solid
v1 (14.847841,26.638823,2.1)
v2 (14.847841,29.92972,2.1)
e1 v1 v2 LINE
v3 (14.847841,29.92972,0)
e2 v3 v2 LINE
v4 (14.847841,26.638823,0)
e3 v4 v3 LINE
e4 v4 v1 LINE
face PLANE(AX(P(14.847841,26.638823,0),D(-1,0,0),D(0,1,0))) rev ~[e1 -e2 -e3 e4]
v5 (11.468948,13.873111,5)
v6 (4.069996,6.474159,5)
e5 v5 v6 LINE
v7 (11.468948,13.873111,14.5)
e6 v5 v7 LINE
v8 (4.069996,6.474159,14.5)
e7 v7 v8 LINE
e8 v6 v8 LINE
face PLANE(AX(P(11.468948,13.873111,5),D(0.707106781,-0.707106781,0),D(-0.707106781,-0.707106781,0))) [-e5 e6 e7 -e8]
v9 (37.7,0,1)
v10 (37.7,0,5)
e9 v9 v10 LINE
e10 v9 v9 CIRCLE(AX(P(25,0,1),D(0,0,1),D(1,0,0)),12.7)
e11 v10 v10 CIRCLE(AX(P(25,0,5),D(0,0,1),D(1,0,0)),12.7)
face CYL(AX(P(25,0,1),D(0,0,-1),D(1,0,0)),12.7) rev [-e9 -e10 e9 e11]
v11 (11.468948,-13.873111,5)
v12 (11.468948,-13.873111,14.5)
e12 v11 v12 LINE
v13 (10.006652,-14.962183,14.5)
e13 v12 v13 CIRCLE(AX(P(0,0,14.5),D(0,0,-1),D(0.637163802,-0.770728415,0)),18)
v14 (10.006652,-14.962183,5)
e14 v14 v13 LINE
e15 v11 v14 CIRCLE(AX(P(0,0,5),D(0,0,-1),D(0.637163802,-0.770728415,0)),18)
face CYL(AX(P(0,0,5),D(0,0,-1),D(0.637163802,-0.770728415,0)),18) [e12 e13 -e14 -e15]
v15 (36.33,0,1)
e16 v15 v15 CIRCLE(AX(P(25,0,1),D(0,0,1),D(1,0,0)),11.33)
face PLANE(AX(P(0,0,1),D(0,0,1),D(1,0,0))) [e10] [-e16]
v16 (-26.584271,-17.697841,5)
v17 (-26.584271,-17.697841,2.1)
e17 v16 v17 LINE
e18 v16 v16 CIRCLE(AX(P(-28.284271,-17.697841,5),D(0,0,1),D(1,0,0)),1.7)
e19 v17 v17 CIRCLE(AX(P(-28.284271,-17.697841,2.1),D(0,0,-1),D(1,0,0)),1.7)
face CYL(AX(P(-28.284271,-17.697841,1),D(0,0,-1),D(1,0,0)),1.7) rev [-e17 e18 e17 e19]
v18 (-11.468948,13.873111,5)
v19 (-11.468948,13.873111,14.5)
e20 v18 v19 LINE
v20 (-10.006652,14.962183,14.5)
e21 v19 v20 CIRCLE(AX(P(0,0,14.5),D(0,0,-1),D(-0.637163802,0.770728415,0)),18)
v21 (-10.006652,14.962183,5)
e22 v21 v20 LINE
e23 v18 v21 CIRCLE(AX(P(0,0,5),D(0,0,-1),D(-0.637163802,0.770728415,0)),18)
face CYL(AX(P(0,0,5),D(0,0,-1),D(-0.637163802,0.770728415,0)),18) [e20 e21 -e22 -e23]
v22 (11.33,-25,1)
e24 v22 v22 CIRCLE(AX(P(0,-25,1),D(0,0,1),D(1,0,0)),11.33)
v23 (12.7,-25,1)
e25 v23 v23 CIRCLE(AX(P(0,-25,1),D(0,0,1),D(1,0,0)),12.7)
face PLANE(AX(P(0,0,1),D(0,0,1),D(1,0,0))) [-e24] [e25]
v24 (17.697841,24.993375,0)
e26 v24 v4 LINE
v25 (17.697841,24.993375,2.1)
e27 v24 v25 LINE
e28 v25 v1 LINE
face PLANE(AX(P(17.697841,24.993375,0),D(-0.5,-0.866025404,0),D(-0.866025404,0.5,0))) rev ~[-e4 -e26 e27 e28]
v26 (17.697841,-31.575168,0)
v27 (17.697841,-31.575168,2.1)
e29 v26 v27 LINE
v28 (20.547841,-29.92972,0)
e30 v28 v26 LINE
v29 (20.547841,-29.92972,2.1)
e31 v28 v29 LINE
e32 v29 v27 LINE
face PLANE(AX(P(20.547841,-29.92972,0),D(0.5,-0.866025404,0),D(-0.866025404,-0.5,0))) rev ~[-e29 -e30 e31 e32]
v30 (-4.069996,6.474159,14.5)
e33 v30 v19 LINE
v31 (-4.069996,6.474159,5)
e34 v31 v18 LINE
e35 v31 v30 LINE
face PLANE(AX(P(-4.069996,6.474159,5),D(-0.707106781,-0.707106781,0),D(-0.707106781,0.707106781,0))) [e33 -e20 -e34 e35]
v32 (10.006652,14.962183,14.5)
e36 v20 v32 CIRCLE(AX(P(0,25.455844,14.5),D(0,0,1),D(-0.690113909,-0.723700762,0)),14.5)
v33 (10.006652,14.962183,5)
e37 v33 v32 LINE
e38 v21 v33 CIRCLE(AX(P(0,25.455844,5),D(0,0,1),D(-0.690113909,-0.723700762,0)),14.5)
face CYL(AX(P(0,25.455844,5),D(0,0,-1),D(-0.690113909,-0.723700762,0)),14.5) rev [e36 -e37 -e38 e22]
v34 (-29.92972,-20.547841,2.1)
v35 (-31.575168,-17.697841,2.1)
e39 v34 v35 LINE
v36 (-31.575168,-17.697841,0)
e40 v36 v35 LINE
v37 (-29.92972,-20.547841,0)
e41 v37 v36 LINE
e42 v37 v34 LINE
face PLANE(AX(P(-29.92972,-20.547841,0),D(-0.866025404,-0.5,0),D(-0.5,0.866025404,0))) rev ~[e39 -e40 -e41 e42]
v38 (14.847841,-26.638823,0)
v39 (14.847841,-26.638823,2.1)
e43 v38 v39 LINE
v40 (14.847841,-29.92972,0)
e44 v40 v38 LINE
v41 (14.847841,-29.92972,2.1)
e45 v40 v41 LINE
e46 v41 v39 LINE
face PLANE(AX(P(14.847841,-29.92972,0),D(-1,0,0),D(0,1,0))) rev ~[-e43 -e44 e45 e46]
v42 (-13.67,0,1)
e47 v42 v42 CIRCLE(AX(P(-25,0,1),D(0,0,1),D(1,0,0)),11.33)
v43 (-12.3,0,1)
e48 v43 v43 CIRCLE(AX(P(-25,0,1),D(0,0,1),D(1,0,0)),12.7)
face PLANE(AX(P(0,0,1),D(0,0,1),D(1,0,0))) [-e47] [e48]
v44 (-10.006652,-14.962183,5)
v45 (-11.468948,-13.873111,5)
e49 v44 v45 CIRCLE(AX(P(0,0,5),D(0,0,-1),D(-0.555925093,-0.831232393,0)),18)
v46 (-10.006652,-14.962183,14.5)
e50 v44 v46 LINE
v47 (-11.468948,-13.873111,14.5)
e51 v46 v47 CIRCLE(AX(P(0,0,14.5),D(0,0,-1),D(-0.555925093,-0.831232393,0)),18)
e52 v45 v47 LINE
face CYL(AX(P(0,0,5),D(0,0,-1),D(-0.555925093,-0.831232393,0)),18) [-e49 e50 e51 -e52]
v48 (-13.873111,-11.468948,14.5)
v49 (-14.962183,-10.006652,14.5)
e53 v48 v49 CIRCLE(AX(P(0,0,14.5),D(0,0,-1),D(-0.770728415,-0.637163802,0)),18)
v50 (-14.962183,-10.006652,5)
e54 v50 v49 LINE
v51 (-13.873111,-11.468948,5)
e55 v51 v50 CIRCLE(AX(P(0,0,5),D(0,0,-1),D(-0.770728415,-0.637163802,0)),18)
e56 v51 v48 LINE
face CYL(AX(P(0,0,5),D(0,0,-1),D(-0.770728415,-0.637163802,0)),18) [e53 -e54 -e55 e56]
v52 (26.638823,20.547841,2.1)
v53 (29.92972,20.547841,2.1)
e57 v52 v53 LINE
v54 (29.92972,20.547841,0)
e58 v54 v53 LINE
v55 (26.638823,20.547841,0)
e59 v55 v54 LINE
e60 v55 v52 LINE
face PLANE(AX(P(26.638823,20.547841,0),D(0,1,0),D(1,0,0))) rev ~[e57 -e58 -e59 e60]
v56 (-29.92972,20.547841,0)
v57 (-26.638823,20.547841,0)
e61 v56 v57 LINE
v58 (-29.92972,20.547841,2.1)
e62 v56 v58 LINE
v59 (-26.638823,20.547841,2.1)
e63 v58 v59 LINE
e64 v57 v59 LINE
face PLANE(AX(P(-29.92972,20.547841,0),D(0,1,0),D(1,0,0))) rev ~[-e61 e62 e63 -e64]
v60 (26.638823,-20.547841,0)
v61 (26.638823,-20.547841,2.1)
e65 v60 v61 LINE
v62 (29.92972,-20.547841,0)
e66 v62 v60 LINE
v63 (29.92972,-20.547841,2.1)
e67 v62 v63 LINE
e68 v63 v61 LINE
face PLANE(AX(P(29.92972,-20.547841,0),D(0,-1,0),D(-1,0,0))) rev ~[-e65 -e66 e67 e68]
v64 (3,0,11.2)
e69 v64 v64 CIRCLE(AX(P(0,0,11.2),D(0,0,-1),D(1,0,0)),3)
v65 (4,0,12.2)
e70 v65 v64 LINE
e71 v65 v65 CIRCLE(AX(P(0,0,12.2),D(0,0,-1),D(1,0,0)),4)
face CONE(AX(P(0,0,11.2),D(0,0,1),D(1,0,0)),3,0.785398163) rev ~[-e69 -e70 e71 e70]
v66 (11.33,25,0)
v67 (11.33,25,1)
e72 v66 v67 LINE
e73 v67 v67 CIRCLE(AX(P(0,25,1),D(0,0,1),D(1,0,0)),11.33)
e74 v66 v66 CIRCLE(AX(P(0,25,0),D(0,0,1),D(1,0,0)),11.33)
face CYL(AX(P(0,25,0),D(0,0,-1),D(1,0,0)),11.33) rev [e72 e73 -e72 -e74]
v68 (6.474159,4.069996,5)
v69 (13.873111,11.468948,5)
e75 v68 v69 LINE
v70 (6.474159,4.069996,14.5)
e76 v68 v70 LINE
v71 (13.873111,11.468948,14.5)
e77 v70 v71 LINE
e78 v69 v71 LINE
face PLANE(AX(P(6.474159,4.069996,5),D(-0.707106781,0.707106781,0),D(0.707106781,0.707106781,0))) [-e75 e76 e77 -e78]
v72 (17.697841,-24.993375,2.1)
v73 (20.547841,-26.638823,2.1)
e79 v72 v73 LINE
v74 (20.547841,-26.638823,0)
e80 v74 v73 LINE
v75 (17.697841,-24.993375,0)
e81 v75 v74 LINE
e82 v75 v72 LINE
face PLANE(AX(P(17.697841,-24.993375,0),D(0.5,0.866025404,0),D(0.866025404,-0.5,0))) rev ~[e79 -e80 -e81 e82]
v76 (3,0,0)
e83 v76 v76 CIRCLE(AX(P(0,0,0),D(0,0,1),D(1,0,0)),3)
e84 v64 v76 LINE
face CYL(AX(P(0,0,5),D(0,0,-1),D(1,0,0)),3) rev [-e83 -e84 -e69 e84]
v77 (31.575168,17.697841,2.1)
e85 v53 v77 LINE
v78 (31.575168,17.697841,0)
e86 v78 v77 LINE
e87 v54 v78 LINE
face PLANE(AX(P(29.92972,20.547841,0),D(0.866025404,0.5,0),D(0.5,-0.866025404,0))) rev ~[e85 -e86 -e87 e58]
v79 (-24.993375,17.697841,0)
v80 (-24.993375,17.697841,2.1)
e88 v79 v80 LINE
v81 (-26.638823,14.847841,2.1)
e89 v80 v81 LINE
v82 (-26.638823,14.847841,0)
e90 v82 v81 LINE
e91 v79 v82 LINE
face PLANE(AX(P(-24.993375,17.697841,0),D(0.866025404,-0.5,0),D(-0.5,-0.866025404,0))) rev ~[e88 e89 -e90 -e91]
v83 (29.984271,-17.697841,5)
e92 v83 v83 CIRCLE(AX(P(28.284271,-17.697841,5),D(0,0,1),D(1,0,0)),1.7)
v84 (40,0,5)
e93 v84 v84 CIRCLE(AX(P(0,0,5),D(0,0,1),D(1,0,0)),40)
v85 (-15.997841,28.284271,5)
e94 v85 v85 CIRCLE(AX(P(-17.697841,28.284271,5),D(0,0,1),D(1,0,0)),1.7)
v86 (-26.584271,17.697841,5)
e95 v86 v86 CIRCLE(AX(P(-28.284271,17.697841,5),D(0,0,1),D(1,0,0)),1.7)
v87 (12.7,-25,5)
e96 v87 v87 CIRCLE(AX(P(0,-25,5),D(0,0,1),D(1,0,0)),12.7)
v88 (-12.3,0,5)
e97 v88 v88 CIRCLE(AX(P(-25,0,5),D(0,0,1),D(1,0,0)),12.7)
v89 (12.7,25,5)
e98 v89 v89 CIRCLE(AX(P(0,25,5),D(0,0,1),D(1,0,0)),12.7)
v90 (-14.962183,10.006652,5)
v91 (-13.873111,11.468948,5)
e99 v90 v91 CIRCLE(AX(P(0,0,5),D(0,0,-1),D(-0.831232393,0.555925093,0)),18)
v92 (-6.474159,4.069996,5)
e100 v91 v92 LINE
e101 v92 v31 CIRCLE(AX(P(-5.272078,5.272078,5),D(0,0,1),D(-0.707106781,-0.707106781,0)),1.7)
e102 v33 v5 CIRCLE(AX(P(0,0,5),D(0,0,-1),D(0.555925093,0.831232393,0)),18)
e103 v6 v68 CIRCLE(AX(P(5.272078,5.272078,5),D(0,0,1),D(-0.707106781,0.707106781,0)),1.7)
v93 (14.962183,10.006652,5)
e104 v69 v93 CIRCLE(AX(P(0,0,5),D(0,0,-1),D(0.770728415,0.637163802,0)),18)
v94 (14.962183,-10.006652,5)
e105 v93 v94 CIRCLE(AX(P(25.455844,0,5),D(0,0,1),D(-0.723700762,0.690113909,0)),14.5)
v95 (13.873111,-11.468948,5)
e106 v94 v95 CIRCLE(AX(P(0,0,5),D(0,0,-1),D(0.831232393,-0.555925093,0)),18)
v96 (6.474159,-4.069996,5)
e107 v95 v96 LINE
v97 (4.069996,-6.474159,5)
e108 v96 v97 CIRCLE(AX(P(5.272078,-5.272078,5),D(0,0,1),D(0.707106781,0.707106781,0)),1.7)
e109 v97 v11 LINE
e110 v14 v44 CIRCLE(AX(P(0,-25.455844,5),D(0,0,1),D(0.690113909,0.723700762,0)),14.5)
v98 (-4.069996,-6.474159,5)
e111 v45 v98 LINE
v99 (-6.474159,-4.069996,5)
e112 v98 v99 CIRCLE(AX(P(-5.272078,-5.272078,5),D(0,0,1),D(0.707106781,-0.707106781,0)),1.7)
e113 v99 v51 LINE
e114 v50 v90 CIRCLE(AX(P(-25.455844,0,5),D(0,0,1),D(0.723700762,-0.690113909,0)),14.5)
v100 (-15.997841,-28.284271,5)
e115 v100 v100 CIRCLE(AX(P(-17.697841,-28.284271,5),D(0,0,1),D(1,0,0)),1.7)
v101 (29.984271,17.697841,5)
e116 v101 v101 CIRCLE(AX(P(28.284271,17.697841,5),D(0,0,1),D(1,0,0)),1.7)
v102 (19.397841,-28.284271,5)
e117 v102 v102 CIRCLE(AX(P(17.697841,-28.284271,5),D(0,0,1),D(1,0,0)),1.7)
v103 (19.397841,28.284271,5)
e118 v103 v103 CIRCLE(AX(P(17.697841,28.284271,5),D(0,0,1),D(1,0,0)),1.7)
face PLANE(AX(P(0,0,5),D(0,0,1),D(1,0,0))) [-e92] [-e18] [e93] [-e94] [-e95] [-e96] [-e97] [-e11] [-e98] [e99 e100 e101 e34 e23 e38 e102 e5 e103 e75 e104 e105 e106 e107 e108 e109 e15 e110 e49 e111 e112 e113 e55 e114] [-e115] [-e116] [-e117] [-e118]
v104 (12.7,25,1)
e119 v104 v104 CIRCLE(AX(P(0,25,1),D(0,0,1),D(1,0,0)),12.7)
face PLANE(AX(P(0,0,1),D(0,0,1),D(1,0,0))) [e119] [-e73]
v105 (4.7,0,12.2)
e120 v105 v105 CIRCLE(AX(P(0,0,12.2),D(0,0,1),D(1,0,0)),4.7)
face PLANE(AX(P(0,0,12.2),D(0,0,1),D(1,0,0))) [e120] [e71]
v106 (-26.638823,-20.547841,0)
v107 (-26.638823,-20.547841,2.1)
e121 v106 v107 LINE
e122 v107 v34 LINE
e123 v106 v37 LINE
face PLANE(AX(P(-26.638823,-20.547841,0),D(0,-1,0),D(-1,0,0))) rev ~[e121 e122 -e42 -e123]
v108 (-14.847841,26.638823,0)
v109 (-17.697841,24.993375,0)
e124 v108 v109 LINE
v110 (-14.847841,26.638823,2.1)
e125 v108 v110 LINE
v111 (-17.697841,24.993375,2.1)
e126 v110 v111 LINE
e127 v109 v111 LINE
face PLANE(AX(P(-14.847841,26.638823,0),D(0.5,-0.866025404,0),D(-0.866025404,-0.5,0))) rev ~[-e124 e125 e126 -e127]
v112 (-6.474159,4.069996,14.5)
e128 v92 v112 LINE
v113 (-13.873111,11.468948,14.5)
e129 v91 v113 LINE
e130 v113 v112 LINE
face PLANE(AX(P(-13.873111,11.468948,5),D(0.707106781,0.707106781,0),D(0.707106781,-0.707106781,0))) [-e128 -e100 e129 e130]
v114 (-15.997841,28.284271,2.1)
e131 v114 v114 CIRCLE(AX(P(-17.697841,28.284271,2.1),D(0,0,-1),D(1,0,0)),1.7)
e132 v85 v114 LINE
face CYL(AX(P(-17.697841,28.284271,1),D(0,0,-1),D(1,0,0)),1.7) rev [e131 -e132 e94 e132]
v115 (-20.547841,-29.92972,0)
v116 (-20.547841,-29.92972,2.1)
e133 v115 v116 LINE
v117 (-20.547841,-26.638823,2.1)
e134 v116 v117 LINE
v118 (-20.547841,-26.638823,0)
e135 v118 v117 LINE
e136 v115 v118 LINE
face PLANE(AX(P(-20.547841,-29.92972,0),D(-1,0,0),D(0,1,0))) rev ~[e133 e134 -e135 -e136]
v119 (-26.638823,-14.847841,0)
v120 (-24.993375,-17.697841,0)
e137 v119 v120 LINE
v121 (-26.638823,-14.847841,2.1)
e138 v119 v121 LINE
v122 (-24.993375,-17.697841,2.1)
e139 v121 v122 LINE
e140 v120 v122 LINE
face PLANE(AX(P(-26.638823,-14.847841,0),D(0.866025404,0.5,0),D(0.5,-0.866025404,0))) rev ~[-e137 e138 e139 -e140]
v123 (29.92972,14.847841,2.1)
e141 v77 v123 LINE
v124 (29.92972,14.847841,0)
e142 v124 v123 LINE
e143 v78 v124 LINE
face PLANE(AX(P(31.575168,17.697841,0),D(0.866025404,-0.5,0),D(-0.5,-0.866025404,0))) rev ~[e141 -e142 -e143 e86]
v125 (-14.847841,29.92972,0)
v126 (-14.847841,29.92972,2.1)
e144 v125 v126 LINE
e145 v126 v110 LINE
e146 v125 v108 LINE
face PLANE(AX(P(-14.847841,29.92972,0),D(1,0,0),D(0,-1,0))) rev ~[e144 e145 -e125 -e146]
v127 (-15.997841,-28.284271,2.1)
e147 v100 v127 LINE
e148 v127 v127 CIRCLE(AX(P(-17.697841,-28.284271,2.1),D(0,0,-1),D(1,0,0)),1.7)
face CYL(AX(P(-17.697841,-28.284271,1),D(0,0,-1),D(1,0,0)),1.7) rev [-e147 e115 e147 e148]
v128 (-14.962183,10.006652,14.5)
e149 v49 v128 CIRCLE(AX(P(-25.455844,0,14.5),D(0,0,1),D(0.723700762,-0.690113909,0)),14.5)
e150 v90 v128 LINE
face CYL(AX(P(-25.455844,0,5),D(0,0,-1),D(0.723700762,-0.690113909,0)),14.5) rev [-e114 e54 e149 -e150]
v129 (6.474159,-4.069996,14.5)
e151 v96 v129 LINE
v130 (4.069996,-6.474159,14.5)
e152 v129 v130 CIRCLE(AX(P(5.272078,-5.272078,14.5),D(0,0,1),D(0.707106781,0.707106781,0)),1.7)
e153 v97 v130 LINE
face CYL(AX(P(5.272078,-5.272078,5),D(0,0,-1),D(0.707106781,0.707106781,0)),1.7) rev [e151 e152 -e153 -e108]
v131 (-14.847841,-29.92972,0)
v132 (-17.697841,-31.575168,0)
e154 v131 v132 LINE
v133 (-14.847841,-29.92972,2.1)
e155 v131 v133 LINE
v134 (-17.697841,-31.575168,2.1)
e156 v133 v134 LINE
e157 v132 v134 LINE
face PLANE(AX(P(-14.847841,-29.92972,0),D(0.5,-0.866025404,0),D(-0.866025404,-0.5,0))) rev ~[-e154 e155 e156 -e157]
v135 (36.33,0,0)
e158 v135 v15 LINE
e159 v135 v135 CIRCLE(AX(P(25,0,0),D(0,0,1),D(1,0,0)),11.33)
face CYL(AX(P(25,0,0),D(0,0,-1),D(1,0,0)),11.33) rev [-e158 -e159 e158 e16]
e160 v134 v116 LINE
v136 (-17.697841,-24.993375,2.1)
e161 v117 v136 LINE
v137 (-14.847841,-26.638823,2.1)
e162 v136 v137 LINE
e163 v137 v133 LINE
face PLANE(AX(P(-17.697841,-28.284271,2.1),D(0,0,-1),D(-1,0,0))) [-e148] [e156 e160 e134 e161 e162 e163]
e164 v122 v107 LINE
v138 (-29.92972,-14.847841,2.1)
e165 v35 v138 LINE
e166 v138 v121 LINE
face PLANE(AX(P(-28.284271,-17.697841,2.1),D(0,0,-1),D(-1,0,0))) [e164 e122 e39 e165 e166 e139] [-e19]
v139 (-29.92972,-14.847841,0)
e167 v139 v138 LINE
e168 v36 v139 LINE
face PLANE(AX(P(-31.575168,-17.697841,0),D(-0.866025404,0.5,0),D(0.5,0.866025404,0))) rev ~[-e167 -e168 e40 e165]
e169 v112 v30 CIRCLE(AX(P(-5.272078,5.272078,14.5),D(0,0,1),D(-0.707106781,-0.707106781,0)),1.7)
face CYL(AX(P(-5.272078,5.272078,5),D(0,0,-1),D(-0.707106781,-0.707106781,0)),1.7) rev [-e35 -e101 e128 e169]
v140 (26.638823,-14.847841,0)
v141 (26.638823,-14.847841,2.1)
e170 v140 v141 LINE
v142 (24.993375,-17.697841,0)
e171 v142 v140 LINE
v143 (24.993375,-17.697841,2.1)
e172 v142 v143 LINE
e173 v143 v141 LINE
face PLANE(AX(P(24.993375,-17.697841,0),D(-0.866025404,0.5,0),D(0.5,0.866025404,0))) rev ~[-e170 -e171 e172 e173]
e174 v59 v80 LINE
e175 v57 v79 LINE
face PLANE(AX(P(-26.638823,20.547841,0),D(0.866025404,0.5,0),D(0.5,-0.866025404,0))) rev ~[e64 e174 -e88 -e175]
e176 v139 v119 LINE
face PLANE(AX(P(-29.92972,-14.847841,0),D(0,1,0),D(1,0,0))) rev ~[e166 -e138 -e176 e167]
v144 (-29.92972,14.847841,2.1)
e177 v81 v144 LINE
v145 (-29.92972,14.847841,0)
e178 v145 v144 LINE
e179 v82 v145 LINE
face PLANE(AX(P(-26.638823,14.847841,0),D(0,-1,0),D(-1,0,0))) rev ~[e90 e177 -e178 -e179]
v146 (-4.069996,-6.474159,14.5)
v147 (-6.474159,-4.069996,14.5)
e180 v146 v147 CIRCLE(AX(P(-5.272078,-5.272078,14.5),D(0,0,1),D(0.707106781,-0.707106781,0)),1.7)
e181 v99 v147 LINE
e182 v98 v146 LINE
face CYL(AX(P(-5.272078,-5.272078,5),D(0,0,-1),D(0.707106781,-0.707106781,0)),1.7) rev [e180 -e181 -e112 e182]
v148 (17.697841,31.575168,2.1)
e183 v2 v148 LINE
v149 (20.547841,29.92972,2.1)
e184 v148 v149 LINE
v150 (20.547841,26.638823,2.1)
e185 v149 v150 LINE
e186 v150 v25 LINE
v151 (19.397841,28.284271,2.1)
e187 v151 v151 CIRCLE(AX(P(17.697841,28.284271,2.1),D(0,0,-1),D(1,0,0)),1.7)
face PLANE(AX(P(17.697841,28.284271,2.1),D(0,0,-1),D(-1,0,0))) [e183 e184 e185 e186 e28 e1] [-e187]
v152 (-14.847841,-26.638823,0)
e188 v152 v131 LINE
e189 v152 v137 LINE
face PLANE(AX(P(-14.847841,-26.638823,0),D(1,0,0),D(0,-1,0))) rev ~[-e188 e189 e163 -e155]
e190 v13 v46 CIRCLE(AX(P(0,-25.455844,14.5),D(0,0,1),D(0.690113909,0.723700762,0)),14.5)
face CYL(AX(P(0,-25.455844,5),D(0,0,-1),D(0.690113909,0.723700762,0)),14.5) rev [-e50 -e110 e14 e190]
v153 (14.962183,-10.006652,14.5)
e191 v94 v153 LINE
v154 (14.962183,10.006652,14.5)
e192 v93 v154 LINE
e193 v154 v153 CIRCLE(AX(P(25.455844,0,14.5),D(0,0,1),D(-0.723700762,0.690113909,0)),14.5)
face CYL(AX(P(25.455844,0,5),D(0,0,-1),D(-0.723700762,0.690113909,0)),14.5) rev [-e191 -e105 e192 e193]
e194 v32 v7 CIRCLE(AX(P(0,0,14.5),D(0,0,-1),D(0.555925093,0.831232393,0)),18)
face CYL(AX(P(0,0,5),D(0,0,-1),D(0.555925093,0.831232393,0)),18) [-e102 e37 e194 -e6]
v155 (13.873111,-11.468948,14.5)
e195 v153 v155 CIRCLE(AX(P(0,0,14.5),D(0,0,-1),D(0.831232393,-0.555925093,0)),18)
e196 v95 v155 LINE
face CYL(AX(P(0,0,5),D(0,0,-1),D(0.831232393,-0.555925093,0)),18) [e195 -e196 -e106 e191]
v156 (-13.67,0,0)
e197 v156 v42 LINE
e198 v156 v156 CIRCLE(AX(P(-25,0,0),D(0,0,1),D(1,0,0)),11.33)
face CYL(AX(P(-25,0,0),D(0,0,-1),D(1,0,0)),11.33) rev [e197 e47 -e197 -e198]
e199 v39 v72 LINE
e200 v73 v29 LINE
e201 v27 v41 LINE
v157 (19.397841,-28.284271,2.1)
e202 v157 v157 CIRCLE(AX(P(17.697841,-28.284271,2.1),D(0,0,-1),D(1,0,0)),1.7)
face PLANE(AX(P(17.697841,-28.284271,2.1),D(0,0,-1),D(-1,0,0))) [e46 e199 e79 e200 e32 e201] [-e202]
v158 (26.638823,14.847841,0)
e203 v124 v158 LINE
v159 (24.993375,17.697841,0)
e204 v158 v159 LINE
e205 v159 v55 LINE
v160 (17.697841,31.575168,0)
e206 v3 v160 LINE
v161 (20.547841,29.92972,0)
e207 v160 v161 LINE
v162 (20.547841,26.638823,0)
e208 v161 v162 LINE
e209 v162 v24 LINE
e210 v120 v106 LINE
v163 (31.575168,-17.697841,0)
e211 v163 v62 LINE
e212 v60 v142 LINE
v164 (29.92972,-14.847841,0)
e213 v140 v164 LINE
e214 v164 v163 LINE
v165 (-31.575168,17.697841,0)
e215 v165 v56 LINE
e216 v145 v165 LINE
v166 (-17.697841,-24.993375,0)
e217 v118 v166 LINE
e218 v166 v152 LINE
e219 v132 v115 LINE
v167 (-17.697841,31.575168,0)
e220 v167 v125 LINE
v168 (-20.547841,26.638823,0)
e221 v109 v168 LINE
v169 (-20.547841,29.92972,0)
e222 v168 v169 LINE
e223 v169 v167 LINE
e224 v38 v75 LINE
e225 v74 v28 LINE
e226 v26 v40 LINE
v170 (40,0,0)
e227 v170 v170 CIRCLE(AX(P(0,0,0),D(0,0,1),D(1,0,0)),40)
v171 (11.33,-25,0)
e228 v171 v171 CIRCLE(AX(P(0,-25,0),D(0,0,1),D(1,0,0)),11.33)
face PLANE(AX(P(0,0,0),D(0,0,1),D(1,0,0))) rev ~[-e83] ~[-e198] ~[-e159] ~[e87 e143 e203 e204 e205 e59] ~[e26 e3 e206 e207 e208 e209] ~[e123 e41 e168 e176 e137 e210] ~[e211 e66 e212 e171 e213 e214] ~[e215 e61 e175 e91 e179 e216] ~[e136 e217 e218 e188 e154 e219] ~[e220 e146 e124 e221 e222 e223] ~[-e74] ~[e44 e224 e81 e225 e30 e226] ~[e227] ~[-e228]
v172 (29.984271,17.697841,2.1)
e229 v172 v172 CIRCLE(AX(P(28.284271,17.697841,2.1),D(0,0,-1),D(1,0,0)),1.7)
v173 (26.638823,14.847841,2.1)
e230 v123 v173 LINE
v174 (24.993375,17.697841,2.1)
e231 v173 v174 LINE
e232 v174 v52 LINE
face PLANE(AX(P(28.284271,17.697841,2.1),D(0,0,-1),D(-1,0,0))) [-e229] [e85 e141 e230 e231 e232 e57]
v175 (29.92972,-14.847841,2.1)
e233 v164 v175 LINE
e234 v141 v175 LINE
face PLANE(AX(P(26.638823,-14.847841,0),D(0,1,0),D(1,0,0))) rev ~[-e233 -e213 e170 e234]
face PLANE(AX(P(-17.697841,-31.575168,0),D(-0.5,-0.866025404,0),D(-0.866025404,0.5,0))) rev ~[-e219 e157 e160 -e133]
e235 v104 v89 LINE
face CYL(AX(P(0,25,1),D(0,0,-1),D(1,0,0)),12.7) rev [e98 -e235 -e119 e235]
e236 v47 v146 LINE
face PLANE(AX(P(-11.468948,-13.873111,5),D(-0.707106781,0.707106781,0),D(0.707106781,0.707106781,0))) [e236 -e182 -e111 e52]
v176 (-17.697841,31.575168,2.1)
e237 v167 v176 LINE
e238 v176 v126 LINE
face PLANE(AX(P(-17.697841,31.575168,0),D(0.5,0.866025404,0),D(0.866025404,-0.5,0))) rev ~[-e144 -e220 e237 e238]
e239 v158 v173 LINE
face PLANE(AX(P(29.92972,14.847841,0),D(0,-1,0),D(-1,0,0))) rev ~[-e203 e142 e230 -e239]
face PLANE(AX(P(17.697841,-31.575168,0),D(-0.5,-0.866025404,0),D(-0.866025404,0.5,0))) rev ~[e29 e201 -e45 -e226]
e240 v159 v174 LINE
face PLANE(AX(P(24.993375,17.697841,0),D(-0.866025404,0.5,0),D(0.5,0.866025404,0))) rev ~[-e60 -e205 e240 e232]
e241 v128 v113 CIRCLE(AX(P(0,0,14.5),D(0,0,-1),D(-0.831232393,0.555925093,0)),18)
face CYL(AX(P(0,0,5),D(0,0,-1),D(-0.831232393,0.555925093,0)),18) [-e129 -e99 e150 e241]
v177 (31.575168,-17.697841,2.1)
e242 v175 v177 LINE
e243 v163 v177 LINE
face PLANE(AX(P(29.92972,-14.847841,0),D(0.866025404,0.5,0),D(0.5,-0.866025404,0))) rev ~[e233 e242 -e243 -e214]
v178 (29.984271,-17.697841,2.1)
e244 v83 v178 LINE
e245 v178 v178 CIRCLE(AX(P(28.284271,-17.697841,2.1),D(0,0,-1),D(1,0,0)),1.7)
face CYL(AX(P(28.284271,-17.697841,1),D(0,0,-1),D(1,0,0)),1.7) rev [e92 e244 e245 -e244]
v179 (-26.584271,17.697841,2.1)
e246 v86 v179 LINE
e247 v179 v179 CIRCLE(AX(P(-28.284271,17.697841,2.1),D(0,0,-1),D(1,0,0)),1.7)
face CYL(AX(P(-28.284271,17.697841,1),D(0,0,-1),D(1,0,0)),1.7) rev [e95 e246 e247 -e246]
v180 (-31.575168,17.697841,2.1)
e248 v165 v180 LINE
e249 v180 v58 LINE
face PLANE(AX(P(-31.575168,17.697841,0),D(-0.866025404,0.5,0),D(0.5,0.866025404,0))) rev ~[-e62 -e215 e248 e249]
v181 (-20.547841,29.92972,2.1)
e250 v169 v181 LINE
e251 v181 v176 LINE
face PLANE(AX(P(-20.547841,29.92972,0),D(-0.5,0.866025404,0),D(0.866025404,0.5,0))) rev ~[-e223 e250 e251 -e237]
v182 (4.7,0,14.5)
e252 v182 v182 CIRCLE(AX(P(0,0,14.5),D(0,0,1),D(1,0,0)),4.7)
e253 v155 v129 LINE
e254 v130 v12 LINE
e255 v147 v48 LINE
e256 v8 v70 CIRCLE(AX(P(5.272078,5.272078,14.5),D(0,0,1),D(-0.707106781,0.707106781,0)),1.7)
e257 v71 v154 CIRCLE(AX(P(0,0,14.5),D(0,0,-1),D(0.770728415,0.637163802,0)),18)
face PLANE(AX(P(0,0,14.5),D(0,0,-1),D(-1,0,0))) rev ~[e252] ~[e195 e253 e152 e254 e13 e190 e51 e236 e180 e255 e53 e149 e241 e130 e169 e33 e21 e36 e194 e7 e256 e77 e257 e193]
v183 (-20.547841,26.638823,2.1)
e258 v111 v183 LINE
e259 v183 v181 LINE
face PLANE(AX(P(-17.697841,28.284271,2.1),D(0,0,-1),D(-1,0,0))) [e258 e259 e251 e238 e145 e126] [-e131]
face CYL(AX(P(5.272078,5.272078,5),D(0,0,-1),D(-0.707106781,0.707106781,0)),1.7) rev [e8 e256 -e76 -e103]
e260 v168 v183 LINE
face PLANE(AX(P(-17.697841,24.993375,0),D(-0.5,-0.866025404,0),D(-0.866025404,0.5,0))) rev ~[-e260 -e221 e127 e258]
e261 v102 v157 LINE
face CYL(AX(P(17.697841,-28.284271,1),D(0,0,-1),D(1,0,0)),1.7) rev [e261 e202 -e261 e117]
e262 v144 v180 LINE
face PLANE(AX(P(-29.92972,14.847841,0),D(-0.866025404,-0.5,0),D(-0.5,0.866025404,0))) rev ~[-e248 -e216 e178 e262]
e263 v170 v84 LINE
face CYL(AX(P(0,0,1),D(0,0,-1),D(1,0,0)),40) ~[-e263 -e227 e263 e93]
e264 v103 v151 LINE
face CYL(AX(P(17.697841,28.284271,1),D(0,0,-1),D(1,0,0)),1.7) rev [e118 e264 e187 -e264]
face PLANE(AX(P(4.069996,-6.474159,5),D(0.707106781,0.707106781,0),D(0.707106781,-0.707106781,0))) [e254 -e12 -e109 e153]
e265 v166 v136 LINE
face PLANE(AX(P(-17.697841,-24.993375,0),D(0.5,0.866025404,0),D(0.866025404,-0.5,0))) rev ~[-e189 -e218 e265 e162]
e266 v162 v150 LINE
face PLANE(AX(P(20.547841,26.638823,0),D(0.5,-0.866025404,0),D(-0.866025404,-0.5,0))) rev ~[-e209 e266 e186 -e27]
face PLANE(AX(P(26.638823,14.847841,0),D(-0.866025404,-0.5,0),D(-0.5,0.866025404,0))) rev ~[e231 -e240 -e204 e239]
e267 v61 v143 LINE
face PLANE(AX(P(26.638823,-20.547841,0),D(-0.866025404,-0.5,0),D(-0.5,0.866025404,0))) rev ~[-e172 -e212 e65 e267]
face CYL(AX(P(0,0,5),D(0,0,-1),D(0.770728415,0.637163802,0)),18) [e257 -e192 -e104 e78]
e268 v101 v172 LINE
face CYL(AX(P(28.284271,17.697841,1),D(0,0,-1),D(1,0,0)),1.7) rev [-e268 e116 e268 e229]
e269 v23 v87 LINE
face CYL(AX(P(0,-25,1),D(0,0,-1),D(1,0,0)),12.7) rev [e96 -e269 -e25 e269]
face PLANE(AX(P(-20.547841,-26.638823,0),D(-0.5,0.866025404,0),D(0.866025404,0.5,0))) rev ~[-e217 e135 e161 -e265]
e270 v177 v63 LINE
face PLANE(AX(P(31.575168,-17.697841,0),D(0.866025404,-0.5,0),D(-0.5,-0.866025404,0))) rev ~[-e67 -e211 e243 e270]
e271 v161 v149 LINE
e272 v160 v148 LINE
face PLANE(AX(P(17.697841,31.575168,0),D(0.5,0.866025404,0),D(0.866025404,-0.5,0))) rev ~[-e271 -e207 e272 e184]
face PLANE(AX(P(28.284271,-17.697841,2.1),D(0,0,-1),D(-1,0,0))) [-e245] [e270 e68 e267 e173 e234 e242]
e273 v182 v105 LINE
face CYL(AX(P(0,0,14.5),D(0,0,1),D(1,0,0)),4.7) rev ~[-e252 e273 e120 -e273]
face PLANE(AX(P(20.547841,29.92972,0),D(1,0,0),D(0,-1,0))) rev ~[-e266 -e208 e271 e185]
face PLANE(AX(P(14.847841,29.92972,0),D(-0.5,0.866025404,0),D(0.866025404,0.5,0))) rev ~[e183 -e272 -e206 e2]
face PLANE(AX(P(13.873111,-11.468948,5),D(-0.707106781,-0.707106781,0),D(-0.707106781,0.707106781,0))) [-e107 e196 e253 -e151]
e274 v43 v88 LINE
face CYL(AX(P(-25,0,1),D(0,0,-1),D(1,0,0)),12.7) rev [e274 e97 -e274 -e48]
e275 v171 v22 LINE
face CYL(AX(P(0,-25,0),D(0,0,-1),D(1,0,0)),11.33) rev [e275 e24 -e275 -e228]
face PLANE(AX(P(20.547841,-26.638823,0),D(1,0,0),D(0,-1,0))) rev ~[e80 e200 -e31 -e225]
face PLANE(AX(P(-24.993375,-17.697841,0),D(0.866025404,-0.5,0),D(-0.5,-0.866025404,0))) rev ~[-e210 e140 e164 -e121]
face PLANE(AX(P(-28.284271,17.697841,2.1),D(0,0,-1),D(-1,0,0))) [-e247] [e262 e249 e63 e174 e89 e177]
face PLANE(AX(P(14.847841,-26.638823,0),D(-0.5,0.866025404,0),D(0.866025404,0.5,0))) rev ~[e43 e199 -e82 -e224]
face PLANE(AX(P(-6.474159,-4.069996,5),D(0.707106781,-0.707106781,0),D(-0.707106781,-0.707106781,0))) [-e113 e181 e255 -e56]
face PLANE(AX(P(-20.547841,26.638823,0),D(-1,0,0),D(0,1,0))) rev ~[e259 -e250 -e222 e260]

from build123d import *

# Parameters (mm, degrees)
SKETCH2_R           = 40
SKETCH2_R_2         = 11.33
SKETCH2_R_3         = 3
SKETCH2_R_4         = 1.7
BOSS_EXTRUDE1_DEPTH = 1
SKETCH3_R           = 40
SKETCH3_R_2         = 12.7
SKETCH3_R_3         = 3
SKETCH3_R_4         = 1.7
BOSS_EXTRUDE2_DEPTH = 4
SKETCH4_R           = 3
BOSS_EXTRUDE3_DEPTH = 9.5
SKETCH6_R           = 4.7
CUT_EXTRUDE2_DEPTH  = 2.3
CHAMFER1_SIZE       = 1
CUT_EXTRUDE1_DEPTH  = 2.1


with BuildPart() as part:
    # Sketch2 → Boss-Extrude1 (new body)
    with BuildSketch(Plane.XY):
        Circle(SKETCH2_R)
        with Locations((0, 25)):
            Circle(SKETCH2_R_2, mode=Mode.SUBTRACT)
        with Locations((25, 0)):
            Circle(SKETCH2_R_2, mode=Mode.SUBTRACT)
        with Locations((0, -25)):
            Circle(SKETCH2_R_2, mode=Mode.SUBTRACT)
        with Locations((-25, 0)):
            Circle(SKETCH2_R_2, mode=Mode.SUBTRACT)
        Circle(SKETCH2_R_3, mode=Mode.SUBTRACT)
        with Locations((17.697840613, 28.284271247)):
            Circle(SKETCH2_R_4, mode=Mode.SUBTRACT)
        with Locations((-17.697840613, 28.284271247)):
            Circle(SKETCH2_R_4, mode=Mode.SUBTRACT)
        with Locations((28.284271247, -17.697840613)):
            Circle(SKETCH2_R_4, mode=Mode.SUBTRACT)
        with Locations((28.284271247, 17.697840613)):
            Circle(SKETCH2_R_4, mode=Mode.SUBTRACT)
        with Locations((-17.697840613, -28.284271247)):
            Circle(SKETCH2_R_4, mode=Mode.SUBTRACT)
        with Locations((17.697840613, -28.284271247)):
            Circle(SKETCH2_R_4, mode=Mode.SUBTRACT)
        with Locations((-28.284271247, 17.697840613)):
            Circle(SKETCH2_R_4, mode=Mode.SUBTRACT)
        with Locations((-28.284271247, -17.697840613)):
            Circle(SKETCH2_R_4, mode=Mode.SUBTRACT)
    extrude(amount=BOSS_EXTRUDE1_DEPTH)

    # Sketch3 → Boss-Extrude2 (add)
    with BuildSketch(Plane.XY.offset(1)):
        Circle(SKETCH3_R)
        with Locations((0, 25)):
            Circle(SKETCH3_R_2, mode=Mode.SUBTRACT)
        with Locations((25, 0)):
            Circle(SKETCH3_R_2, mode=Mode.SUBTRACT)
        with Locations((0, -25)):
            Circle(SKETCH3_R_2, mode=Mode.SUBTRACT)
        with Locations((-25, 0)):
            Circle(SKETCH3_R_2, mode=Mode.SUBTRACT)
        Circle(SKETCH3_R_3, mode=Mode.SUBTRACT)
        with Locations((17.697840613, 28.284271247)):
            Circle(SKETCH3_R_4, mode=Mode.SUBTRACT)
        with Locations((-17.697840613, 28.284271247)):
            Circle(SKETCH3_R_4, mode=Mode.SUBTRACT)
        with Locations((28.284271247, -17.697840613)):
            Circle(SKETCH3_R_4, mode=Mode.SUBTRACT)
        with Locations((28.284271247, 17.697840613)):
            Circle(SKETCH3_R_4, mode=Mode.SUBTRACT)
        with Locations((-17.697840613, -28.284271247)):
            Circle(SKETCH3_R_4, mode=Mode.SUBTRACT)
        with Locations((17.697840613, -28.284271247)):
            Circle(SKETCH3_R_4, mode=Mode.SUBTRACT)
        with Locations((-28.284271247, 17.697840613)):
            Circle(SKETCH3_R_4, mode=Mode.SUBTRACT)
        with Locations((-28.284271247, -17.697840613)):
            Circle(SKETCH3_R_4, mode=Mode.SUBTRACT)
    extrude(amount=BOSS_EXTRUDE2_DEPTH)

    # Sketch4 → Boss-Extrude3 (add)
    with BuildSketch(Plane.XY.offset(5)):
        with BuildLine():
            Line((11.468948422, 13.873111478), (4.069996411, 6.474159467))
            ThreePointArc((4.069996411, 6.474159467), (4.069996411, 4.069996411), (6.474159467, 4.069996411))
            Line((6.474159467, 4.069996411), (13.873111478, 11.468948422))
            ThreePointArc((13.873111478, 11.468948422), (14.436174385, 10.751598445), (14.962183071, 10.006651675))
            ThreePointArc((14.962183071, 10.006651675), (10.955844123, 0), (14.962183071, -10.006651675))
            ThreePointArc((14.962183071, -10.006651675), (14.436174385, -10.751598445), (13.873111478, -11.468948422))
            Line((13.873111478, -11.468948422), (6.474159467, -4.069996411))
            ThreePointArc((6.474159467, -4.069996411), (4.069996411, -4.069996411), (4.069996411, -6.474159467))
            Line((4.069996411, -6.474159467), (11.468948422, -13.873111478))
            ThreePointArc((11.468948422, -13.873111478), (10.751598445, -14.436174385), (10.006651675, -14.962183071))
            ThreePointArc((10.006651675, -14.962183071), (0, -10.955844123), (-10.006651675, -14.962183071))
            ThreePointArc((-10.006651675, -14.962183071), (-10.751598445, -14.436174385), (-11.468948422, -13.873111478))
            Line((-11.468948422, -13.873111478), (-4.069996411, -6.474159467))
            ThreePointArc((-4.069996411, -6.474159467), (-4.069996411, -4.069996411), (-6.474159467, -4.069996411))
            Line((-6.474159467, -4.069996411), (-13.873111478, -11.468948422))
            ThreePointArc((-13.873111478, -11.468948422), (-14.436174385, -10.751598445), (-14.962183071, -10.006651675))
            ThreePointArc((-14.962183071, -10.006651675), (-10.955844123, 0), (-14.962183071, 10.006651675))
            ThreePointArc((-14.962183071, 10.006651675), (-14.436174385, 10.751598445), (-13.873111478, 11.468948422))
            Line((-13.873111478, 11.468948422), (-6.474159467, 4.069996411))
            ThreePointArc((-6.474159467, 4.069996411), (-4.069996411, 4.069996411), (-4.069996411, 6.474159467))
            Line((-4.069996411, 6.474159467), (-11.468948422, 13.873111478))
            ThreePointArc((-11.468948422, 13.873111478), (-10.751598445, 14.436174385), (-10.006651675, 14.962183071))
            ThreePointArc((-10.006651675, 14.962183071), (0, 10.955844123), (10.006651675, 14.962183071))
            ThreePointArc((10.006651675, 14.962183071), (10.751598445, 14.436174385), (11.468948422, 13.873111478))
        make_face()
        Circle(SKETCH4_R, mode=Mode.SUBTRACT)
    extrude(amount=BOSS_EXTRUDE3_DEPTH)

    # Sketch6 → Cut-Extrude2 (cut)
    with BuildSketch(Plane.XY.offset(14.5)):
        Circle(SKETCH6_R)
    extrude(amount=-CUT_EXTRUDE2_DEPTH, mode=Mode.SUBTRACT)

    # Chamfer1
    chamfer1_edges = [part.edges().sort_by_distance(p)[0] for p in [
        (-3, 0, 12.2),
    ]]
    chamfer(chamfer1_edges, length=CHAMFER1_SIZE)

    # Sketch5 → Cut-Extrude1 (cut)
    with BuildSketch(Plane(origin=(0, 0, 0), x_dir=(-1, 0, 0), z_dir=(0, 0, -1))):
        Polygon((29.929719515, 14.847840613), (31.575167782, 17.697840613), (29.929719515, 20.547840613), (26.63882298, 20.547840613), (24.993374713, 17.697840613), (26.63882298, 14.847840613), align=None)
        Polygon((-14.847840613, 29.929719515), (-17.697840613, 31.575167782), (-20.547840613, 29.929719515), (-20.547840613, 26.63882298), (-17.697840613, 24.993374713), (-14.847840613, 26.63882298), align=None)
        Polygon((20.547840613, 26.63882298), (20.547840613, 29.929719515), (17.697840613, 31.575167782), (14.847840613, 29.929719515), (14.847840613, 26.63882298), (17.697840613, 24.993374713), align=None)
        Polygon((26.63882298, -20.547840613), (29.929719515, -20.547840613), (31.575167782, -17.697840613), (29.929719515, -14.847840613), (26.63882298, -14.847840613), (24.993374713, -17.697840613), align=None)
        Polygon((14.847840613, -29.929719515), (17.697840613, -31.575167782), (20.547840613, -29.929719515), (20.547840613, -26.63882298), (17.697840613, -24.993374713), (14.847840613, -26.63882298), align=None)
        Polygon((-20.547840613, -26.63882298), (-20.547840613, -29.929719515), (-17.697840613, -31.575167782), (-14.847840613, -29.929719515), (-14.847840613, -26.63882298), (-17.697840613, -24.993374713), align=None)
        Polygon((-29.929719515, -14.847840613), (-31.575167782, -17.697840613), (-29.929719515, -20.547840613), (-26.63882298, -20.547840613), (-24.993374713, -17.697840613), (-26.63882298, -14.847840613), align=None)
        Polygon((-26.63882298, 20.547840613), (-29.929719515, 20.547840613), (-31.575167782, 17.697840613), (-29.929719515, 14.847840613), (-26.63882298, 14.847840613), (-24.993374713, 17.697840613), align=None)
    extrude(amount=-CUT_EXTRUDE1_DEPTH, mode=Mode.SUBTRACT)


solid = part.part
